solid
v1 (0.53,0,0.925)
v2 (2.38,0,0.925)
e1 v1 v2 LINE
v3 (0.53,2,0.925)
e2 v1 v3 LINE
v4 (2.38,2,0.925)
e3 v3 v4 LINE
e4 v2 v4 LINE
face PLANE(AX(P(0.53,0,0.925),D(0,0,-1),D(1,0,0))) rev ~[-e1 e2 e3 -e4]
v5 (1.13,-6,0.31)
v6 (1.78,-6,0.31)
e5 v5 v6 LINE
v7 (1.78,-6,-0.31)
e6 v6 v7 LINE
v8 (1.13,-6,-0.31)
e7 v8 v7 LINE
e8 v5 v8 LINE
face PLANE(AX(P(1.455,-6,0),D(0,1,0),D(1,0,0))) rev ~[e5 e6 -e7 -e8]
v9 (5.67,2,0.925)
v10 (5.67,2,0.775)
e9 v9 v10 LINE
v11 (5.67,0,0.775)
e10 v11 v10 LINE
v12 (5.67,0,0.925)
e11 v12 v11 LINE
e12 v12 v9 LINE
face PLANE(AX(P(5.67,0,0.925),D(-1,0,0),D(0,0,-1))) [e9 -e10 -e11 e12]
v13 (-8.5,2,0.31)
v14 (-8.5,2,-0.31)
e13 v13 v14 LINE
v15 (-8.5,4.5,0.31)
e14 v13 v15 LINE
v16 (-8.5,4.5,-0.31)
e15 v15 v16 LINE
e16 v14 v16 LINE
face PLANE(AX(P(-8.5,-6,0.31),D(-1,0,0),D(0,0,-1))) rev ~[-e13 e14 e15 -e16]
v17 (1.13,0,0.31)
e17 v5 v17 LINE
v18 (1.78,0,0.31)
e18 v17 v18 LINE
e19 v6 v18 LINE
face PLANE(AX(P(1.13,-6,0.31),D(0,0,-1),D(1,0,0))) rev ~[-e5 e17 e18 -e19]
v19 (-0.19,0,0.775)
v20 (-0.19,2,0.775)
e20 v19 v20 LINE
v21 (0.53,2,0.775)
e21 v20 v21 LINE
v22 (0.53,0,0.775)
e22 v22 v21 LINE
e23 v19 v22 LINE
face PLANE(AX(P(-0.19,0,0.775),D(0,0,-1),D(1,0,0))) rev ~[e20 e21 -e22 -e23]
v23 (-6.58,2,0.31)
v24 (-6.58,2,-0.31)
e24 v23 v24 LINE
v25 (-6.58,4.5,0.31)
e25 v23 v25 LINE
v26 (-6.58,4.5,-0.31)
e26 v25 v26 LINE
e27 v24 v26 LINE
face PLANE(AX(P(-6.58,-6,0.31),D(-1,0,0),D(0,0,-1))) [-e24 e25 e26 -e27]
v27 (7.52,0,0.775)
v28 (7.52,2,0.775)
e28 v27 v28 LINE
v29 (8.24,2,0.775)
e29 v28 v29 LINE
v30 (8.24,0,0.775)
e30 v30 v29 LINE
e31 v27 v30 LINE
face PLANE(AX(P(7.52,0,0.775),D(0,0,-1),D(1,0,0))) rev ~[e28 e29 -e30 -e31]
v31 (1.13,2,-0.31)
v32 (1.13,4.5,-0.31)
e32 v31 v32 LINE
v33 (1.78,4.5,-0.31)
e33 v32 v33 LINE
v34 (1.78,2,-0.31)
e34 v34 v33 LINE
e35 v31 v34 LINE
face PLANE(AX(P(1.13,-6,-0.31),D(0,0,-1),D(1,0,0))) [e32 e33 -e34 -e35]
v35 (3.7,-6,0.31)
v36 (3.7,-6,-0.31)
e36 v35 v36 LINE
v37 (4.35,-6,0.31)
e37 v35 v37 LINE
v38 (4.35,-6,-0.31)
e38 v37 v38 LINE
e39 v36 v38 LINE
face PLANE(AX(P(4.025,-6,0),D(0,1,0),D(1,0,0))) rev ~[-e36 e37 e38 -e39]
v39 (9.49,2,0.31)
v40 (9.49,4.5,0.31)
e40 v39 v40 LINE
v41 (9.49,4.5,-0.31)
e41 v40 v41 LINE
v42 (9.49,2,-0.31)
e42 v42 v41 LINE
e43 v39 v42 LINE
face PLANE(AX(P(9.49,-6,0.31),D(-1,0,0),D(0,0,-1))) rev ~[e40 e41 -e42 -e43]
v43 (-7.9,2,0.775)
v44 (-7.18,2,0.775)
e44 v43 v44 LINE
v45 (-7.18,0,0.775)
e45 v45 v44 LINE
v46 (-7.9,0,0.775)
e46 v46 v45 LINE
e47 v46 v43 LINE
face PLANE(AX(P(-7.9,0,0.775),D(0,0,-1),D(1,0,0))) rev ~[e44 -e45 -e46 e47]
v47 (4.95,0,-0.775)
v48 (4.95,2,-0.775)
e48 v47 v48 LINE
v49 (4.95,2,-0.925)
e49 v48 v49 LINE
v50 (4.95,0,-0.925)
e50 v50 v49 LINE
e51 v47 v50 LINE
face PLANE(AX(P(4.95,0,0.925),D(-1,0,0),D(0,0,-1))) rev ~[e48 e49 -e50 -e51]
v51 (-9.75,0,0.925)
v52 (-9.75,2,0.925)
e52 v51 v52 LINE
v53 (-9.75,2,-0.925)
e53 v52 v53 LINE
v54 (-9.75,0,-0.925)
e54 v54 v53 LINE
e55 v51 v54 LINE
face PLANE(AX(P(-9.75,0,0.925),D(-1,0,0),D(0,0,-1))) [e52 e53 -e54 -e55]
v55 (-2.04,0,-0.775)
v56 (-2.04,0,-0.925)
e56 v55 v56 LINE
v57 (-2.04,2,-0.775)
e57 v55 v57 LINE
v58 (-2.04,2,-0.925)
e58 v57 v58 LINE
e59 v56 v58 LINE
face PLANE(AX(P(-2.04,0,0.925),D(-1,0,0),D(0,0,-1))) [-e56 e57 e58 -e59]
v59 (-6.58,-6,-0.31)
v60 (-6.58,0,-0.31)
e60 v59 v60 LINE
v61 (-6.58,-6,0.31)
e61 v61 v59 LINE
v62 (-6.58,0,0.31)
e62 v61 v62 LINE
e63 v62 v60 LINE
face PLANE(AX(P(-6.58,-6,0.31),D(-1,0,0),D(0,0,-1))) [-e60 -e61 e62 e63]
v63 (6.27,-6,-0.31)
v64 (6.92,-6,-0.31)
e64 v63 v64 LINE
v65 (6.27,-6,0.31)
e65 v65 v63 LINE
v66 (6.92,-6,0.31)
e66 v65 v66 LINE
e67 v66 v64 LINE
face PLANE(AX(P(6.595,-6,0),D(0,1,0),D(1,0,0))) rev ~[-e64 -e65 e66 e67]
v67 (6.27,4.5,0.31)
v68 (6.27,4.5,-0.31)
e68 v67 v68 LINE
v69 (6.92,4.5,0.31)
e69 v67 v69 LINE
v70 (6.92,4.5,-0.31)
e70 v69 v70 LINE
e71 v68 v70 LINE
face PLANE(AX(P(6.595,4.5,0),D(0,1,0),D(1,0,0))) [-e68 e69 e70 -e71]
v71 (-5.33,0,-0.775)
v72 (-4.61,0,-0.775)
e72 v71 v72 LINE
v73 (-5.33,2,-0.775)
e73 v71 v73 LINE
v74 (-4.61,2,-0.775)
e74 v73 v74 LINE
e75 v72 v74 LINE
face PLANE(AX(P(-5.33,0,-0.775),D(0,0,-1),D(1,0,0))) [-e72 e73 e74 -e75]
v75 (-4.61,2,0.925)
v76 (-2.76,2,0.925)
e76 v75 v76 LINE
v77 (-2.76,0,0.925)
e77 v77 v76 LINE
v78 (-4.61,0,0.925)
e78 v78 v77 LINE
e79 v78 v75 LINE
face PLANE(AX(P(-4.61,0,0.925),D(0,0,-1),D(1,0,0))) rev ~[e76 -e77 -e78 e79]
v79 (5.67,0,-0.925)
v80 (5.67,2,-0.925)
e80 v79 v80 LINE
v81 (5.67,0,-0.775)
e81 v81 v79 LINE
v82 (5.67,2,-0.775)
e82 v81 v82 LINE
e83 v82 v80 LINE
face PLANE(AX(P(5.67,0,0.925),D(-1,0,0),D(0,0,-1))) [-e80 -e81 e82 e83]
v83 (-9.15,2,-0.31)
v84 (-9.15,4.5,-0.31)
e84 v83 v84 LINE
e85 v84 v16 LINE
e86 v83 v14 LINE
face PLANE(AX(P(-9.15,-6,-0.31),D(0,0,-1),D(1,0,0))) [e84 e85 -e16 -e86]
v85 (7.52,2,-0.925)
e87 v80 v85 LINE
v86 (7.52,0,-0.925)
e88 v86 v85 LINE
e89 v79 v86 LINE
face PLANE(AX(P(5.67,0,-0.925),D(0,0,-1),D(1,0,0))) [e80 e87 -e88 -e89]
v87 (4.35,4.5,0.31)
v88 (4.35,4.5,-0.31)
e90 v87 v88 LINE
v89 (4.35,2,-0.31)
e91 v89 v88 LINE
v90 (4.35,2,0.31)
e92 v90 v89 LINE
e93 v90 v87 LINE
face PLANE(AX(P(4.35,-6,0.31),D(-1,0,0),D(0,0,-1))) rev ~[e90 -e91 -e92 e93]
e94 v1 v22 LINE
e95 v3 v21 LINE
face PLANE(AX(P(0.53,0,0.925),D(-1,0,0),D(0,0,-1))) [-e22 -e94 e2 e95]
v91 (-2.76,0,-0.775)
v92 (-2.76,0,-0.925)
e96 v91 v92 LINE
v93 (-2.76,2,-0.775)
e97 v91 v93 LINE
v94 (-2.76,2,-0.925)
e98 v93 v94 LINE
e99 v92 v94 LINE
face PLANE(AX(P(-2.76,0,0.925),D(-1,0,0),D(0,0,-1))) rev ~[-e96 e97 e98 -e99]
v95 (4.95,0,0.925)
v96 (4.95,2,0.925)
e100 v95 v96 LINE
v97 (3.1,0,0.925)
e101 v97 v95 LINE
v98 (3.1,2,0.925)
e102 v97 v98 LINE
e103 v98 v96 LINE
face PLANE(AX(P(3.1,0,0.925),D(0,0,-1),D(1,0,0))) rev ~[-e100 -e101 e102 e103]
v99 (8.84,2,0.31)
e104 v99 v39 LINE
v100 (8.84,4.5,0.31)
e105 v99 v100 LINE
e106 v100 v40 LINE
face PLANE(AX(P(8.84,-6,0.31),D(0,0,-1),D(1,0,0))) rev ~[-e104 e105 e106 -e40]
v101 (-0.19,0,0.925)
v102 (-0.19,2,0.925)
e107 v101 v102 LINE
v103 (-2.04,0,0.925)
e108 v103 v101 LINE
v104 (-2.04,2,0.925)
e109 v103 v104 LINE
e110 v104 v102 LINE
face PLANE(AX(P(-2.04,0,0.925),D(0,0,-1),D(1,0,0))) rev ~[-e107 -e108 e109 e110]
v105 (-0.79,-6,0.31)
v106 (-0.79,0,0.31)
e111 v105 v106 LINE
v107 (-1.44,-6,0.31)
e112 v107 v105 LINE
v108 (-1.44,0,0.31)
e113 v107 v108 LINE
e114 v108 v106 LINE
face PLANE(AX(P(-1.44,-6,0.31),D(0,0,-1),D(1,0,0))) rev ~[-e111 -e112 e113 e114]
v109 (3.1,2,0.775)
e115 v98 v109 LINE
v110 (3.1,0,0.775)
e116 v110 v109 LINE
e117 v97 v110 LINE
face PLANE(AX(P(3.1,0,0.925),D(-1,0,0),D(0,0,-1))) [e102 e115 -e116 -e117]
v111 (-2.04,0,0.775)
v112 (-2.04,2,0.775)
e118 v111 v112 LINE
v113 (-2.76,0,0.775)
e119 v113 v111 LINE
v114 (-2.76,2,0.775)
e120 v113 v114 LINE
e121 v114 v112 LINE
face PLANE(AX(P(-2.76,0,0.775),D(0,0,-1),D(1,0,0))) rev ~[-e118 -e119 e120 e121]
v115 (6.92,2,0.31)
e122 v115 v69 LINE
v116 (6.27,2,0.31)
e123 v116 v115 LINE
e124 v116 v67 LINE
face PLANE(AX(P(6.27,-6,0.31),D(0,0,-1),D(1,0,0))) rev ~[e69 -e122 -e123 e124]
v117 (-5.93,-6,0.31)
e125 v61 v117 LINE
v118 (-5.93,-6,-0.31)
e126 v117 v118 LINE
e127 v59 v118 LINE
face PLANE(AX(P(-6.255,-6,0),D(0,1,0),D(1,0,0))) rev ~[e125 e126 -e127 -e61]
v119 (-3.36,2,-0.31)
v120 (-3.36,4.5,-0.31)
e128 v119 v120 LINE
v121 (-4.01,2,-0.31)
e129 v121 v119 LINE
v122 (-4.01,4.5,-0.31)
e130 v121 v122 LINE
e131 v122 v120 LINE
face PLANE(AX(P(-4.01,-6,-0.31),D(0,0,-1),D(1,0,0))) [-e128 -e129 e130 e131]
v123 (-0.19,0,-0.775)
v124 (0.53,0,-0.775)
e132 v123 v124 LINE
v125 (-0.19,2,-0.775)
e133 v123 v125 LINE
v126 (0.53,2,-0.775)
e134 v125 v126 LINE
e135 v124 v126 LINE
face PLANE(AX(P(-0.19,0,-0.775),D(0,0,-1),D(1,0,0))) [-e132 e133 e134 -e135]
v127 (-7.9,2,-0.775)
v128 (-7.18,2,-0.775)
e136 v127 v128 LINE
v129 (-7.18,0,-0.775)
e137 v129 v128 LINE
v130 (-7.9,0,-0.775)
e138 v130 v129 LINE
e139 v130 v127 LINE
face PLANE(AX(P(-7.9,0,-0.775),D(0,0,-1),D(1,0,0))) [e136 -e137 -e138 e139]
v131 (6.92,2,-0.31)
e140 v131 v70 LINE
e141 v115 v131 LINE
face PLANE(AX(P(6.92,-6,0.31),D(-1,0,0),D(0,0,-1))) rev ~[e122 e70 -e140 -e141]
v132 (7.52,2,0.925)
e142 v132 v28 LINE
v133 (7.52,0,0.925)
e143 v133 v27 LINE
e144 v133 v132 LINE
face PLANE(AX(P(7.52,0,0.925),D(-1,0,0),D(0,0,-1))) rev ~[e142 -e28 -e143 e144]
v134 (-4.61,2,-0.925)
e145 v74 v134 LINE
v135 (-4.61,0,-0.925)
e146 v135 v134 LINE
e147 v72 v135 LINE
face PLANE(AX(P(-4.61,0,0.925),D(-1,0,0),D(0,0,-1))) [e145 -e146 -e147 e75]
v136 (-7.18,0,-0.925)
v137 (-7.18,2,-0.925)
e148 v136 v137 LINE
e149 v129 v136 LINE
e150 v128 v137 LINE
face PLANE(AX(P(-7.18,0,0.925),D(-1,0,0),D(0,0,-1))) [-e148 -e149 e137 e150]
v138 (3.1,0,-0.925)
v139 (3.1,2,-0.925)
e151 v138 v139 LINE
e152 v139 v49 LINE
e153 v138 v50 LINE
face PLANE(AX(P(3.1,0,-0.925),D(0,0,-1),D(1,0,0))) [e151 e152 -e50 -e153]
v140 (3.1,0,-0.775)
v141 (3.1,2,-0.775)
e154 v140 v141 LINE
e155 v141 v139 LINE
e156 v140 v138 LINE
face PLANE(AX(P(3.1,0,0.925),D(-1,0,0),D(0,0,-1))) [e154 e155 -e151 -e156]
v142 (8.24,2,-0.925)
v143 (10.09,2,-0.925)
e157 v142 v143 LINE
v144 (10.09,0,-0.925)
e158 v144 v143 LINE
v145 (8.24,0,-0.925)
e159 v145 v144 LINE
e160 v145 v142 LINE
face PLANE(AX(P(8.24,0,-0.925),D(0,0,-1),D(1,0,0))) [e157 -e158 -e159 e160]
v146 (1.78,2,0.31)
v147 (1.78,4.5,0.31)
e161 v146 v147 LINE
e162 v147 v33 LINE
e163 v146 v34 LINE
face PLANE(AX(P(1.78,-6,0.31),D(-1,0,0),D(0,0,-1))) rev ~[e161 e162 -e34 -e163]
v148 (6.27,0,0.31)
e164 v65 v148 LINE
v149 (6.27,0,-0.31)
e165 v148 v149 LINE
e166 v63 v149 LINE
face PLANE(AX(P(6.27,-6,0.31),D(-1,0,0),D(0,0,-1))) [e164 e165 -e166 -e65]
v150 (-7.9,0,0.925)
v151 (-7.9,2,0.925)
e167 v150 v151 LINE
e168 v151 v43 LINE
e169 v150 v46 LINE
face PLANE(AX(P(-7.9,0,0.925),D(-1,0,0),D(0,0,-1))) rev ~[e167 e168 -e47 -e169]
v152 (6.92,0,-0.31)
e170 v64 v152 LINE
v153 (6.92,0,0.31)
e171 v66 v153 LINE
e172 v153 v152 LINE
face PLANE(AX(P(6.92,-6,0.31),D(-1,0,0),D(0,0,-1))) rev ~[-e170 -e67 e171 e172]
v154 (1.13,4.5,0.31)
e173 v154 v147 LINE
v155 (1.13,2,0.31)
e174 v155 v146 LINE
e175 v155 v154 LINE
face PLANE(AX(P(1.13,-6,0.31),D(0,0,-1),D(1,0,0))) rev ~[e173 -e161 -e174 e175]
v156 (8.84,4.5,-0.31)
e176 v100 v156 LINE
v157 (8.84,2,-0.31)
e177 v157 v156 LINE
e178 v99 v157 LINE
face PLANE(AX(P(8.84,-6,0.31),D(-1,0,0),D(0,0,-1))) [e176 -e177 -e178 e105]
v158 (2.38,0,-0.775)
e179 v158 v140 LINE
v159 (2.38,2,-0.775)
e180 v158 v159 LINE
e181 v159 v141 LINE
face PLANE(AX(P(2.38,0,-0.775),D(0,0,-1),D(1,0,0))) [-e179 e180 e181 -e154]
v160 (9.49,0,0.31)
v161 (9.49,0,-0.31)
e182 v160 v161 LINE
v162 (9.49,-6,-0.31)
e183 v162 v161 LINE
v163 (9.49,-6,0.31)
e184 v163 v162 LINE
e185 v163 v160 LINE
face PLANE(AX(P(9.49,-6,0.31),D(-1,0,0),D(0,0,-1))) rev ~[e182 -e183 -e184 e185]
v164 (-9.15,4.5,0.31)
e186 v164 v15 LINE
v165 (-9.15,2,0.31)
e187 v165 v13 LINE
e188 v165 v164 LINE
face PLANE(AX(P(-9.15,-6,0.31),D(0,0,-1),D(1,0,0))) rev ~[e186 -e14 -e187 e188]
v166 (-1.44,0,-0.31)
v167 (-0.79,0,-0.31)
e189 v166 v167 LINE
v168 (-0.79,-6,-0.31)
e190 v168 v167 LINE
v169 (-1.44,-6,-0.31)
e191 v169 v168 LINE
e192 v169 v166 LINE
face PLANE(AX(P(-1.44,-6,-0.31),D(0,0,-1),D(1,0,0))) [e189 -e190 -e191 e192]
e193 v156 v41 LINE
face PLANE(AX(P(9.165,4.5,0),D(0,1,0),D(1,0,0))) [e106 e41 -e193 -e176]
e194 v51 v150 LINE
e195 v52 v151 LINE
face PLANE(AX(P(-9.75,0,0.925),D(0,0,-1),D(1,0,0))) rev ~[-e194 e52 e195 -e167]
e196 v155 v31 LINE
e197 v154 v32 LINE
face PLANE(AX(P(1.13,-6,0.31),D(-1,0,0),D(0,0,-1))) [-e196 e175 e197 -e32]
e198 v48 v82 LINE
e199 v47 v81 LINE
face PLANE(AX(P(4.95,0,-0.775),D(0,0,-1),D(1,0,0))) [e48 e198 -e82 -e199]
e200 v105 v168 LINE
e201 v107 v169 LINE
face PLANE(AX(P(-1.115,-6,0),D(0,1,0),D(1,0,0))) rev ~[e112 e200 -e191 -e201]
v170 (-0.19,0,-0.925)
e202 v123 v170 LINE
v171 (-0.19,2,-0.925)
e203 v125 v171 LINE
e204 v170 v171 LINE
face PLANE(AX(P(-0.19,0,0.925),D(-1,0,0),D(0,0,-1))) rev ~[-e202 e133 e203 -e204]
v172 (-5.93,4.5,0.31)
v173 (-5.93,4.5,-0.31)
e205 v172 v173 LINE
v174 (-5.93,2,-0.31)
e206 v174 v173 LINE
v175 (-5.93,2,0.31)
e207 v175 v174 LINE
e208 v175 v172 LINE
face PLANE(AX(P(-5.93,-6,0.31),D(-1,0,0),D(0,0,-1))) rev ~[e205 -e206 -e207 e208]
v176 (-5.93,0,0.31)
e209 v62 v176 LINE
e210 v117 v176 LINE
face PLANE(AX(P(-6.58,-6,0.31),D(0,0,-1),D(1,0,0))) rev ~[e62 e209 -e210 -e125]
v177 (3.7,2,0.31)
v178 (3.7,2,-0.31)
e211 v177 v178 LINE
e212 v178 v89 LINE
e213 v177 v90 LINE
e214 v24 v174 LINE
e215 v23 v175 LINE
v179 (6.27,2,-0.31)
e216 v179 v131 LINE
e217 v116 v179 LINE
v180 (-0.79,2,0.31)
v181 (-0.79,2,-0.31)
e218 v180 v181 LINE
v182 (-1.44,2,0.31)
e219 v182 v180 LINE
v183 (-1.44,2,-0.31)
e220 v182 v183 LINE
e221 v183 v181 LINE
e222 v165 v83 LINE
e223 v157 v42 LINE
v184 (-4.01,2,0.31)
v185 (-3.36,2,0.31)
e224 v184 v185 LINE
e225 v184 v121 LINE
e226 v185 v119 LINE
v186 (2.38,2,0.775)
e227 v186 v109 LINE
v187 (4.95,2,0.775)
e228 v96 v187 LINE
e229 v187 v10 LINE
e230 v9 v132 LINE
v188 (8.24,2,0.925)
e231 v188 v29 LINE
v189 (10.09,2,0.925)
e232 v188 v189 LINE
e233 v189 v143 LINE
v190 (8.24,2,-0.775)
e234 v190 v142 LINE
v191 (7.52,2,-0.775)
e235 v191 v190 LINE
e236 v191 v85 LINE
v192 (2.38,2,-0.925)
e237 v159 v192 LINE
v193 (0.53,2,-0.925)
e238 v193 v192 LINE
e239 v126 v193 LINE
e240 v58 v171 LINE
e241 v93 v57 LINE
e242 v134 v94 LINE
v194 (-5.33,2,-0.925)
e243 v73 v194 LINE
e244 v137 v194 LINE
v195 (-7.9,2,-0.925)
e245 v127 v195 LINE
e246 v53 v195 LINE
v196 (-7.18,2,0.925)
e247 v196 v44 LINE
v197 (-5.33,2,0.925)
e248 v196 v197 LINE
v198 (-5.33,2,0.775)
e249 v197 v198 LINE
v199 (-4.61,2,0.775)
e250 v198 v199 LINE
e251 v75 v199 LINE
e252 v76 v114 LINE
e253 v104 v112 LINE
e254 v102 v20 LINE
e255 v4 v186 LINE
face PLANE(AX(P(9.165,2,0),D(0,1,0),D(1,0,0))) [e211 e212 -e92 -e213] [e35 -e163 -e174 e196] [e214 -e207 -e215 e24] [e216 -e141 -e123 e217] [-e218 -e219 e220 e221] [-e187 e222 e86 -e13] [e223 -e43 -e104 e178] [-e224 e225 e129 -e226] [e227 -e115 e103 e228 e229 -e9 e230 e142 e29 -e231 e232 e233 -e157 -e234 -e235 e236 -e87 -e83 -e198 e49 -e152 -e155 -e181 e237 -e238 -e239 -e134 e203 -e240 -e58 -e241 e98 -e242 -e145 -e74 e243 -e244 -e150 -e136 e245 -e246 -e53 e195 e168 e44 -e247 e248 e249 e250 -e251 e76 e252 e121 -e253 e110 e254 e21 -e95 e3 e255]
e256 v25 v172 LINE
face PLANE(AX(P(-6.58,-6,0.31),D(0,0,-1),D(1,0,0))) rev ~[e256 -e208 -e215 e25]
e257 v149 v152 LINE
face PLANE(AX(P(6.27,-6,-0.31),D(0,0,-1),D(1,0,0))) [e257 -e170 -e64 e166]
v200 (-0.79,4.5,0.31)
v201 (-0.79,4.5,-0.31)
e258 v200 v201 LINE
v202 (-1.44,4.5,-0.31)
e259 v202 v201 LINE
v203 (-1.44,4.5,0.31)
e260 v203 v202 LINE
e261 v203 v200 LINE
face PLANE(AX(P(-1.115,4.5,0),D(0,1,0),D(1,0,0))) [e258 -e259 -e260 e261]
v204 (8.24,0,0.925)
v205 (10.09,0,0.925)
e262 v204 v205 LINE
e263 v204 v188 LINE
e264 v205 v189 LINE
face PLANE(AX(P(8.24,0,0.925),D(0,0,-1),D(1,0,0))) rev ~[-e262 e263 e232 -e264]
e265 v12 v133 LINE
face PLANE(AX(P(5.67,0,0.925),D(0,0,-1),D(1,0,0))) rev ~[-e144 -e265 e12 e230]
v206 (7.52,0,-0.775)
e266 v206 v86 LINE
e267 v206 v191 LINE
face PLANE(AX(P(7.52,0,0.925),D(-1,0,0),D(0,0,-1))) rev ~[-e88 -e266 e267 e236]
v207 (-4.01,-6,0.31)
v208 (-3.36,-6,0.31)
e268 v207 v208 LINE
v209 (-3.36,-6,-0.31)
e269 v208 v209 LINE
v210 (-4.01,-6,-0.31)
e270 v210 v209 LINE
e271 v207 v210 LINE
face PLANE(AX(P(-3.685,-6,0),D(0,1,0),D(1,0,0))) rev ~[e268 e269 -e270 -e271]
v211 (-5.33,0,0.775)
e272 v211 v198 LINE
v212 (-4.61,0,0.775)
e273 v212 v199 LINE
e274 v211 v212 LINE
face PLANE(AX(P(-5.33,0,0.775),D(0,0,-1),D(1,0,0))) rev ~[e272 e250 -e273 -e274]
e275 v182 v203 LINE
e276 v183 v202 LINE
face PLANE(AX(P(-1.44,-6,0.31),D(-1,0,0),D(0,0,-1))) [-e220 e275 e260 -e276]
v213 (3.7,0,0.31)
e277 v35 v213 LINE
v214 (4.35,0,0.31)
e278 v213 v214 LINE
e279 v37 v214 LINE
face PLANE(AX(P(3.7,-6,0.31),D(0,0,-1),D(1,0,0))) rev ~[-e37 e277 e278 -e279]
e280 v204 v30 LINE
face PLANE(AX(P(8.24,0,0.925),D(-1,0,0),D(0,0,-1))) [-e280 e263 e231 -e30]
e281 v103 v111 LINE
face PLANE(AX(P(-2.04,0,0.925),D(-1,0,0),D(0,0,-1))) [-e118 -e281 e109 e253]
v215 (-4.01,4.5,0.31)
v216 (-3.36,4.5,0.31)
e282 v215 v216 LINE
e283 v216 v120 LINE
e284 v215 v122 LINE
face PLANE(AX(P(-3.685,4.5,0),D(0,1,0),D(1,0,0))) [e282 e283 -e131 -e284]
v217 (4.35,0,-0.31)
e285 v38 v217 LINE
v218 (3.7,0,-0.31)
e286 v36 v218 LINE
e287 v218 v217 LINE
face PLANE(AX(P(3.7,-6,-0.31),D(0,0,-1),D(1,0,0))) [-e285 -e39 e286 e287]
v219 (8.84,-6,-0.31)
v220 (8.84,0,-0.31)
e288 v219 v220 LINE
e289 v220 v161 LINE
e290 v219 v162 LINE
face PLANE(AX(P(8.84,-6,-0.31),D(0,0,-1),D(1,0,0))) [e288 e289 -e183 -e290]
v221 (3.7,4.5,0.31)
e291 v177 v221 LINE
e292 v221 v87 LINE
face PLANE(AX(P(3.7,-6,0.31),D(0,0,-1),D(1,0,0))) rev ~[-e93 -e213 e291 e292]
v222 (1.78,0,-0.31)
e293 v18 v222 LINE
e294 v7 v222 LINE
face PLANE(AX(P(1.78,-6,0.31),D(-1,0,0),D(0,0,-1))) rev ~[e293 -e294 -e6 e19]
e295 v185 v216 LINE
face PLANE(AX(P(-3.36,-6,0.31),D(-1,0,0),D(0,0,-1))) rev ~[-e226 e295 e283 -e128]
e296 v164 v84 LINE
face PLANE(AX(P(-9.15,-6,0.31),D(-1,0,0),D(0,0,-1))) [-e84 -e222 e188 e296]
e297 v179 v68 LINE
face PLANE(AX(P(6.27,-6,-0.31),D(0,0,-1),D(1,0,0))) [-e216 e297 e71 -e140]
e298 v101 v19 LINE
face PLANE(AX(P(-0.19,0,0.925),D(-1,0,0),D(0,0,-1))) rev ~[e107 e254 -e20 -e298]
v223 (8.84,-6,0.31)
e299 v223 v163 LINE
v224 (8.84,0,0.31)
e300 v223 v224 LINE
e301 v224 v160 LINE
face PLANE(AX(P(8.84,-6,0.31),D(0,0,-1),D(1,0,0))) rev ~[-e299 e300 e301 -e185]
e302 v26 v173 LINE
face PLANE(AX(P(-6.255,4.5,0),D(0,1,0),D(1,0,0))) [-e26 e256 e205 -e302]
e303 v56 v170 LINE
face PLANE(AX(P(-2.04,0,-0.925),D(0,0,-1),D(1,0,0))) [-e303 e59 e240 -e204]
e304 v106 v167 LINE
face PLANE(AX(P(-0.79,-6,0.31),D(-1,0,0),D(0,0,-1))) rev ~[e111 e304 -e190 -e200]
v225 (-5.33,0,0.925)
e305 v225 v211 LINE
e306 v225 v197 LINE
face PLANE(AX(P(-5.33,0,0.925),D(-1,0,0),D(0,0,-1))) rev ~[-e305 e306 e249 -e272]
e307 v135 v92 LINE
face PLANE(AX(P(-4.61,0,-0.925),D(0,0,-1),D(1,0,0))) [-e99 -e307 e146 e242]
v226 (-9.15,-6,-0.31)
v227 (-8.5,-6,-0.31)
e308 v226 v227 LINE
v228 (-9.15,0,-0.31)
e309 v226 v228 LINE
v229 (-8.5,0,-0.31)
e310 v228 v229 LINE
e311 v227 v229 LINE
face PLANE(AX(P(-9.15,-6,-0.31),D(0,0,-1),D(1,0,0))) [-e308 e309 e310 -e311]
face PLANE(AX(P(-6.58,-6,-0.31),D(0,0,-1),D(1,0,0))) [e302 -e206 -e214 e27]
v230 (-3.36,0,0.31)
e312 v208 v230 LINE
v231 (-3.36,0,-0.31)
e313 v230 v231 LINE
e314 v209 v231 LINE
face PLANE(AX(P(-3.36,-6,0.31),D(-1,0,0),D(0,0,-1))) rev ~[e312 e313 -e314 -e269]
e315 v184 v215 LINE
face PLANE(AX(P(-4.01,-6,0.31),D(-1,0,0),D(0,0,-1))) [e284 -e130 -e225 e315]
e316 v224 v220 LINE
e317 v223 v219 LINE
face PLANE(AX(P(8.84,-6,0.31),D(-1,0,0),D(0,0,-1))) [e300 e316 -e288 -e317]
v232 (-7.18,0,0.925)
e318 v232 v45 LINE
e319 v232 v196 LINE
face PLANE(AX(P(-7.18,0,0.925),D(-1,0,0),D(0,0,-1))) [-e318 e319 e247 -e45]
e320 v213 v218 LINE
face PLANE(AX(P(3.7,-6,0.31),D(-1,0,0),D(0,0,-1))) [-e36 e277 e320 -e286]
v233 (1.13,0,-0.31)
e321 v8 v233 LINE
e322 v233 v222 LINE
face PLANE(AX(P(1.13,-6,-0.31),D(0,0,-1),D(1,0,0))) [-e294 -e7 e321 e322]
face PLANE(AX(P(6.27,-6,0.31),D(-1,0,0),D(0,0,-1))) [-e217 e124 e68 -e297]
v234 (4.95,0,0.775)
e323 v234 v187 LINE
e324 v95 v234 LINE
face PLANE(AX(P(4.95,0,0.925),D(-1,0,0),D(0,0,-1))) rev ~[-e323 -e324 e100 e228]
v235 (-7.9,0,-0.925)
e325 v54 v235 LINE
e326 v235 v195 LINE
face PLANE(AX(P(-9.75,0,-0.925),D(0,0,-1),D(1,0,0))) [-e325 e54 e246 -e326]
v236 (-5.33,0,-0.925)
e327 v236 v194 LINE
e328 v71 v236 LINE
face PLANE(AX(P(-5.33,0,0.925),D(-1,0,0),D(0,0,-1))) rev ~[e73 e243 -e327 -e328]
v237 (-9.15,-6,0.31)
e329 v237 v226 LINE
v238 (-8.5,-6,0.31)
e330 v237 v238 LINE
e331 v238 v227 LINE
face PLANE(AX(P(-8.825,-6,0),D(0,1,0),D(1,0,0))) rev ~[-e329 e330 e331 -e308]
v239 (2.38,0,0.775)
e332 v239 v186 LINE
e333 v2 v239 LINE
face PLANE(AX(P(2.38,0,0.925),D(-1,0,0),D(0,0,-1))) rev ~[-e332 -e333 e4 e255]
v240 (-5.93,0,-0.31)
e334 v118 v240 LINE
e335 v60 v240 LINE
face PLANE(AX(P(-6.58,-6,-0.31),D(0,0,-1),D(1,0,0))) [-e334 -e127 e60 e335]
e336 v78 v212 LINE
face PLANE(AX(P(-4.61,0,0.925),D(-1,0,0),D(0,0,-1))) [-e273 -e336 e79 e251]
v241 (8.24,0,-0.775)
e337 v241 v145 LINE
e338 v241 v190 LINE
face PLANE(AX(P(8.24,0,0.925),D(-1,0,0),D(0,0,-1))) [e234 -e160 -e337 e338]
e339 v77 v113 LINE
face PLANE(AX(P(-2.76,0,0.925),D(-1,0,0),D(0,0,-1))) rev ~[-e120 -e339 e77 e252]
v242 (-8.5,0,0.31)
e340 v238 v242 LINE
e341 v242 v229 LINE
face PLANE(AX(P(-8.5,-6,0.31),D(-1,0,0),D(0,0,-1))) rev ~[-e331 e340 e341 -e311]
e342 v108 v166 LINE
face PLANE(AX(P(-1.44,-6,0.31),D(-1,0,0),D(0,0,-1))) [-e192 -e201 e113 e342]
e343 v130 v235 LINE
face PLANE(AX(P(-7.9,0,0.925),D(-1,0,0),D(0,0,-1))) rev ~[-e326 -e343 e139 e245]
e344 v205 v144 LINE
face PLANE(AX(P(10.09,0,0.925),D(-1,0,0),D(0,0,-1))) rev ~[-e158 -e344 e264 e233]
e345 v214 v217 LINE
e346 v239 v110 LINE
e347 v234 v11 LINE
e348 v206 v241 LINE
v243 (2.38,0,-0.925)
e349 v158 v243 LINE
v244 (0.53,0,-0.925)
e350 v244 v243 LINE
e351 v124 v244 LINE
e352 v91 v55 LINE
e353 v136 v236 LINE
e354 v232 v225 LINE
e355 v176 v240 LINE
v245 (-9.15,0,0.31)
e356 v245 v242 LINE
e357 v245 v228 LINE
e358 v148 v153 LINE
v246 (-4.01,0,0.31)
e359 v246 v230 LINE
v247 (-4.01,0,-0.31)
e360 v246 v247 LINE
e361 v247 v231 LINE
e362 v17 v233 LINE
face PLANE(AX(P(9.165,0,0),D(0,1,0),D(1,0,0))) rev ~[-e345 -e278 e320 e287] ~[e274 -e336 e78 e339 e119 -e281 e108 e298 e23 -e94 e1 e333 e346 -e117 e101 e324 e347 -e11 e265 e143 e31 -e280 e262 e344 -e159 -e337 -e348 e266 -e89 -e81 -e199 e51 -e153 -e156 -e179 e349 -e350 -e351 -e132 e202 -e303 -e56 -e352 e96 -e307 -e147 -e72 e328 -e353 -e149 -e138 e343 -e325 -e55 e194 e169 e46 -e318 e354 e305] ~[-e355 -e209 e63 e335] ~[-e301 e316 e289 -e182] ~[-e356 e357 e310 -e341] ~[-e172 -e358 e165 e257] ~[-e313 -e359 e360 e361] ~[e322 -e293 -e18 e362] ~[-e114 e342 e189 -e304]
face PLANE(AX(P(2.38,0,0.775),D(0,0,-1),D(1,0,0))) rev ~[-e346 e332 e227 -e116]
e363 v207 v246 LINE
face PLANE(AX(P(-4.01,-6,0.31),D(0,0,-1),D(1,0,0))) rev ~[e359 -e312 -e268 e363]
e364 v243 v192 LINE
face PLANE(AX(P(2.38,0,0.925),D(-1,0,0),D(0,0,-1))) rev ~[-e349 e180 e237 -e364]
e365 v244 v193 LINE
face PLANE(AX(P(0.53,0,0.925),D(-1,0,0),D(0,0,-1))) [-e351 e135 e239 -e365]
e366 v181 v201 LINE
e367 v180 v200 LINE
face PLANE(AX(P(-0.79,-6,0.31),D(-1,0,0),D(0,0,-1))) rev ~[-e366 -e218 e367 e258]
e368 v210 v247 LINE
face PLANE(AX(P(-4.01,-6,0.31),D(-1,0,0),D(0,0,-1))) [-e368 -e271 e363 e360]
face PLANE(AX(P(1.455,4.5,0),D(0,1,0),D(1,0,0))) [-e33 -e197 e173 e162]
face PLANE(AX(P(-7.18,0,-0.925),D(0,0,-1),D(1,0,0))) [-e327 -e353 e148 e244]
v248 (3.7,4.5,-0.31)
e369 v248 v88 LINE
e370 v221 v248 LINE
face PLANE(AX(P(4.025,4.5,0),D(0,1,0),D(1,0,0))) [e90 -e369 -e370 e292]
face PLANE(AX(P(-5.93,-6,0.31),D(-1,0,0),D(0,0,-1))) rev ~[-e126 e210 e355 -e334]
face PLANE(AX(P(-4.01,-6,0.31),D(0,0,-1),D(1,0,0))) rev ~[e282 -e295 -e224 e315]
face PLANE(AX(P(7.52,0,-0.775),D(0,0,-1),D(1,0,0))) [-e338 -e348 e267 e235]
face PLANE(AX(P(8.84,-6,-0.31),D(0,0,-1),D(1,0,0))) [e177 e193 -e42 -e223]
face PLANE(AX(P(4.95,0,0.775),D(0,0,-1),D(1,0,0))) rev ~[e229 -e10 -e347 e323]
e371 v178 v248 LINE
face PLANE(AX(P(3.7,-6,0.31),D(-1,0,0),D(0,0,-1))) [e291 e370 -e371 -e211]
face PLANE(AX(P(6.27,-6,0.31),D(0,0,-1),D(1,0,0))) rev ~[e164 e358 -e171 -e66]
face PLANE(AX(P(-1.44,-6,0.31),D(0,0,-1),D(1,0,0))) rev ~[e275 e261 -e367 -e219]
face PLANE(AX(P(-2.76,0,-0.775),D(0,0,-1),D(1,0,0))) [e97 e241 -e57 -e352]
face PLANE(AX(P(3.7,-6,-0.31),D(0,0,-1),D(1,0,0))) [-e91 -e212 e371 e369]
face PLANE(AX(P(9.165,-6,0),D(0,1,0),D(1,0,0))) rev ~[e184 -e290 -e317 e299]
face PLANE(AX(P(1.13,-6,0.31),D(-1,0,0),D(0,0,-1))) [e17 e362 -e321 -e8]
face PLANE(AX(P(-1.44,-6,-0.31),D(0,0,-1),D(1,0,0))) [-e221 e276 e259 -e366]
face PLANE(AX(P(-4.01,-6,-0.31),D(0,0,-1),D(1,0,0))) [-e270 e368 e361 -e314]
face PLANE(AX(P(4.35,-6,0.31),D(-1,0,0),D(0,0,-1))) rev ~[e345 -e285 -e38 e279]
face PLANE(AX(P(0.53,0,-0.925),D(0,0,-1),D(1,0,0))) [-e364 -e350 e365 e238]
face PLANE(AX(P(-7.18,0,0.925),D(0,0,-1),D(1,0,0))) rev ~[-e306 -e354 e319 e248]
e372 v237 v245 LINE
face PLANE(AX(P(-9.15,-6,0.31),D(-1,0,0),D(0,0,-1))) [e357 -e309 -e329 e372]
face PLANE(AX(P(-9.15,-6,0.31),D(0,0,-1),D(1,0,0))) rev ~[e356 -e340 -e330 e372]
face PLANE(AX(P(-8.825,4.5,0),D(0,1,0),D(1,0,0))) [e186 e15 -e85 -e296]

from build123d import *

# Parameters (mm, degrees)
SKETCH1_W                = 0.65
SKETCH1_H                = 0.62
BOSS_EXTRUDE1_DEPTH      = 2
BOSS_EXTRUDE2_DEPTH      = 4.5
BOSS_EXTRUDE2_DEPTH_BACK = 6
SKETCH1_3_W              = 0.65
SKETCH1_3_H              = 0.62


with BuildPart() as part:
    # Sketch1 → Boss-Extrude1 (new body)
    with BuildSketch(Plane(origin=(0, 0, 0), x_dir=(1, 0, 0), z_dir=(0, 1, 0))):
        Polygon((-7.9, 0.925), (-9.75, 0.925), (-9.75, -0.925), (-7.9, -0.925), (-7.9, -0.775), (-7.18, -0.775), (-7.18, -0.925), (-5.33, -0.925), (-5.33, -0.775), (-4.61, -0.775), (-4.61, -0.925), (-2.76, -0.925), (-2.76, -0.775), (-2.04, -0.775), (-2.04, -0.925), (-0.19, -0.925), (-0.19, -0.775), (0.53, -0.775), (0.53, -0.925), (2.38, -0.925), (2.38, -0.775), (3.1, -0.775), (3.1, -0.925), (4.95, -0.925), (4.95, -0.775), (5.67, -0.775), (5.67, -0.925), (7.52, -0.925), (7.52, -0.775), (8.24, -0.775), (8.24, -0.925), (10.09, -0.925), (10.09, 0.925), (8.24, 0.925), (8.24, 0.775), (7.52, 0.775), (7.52, 0.925), (5.67, 0.925), (5.67, 0.775), (4.95, 0.775), (4.95, 0.925), (3.1, 0.925), (3.1, 0.775), (2.38, 0.775), (2.38, 0.925), (0.53, 0.925), (0.53, 0.775), (-0.19, 0.775), (-0.19, 0.925), (-2.04, 0.925), (-2.04, 0.775), (-2.76, 0.775), (-2.76, 0.925), (-4.61, 0.925), (-4.61, 0.775), (-5.33, 0.775), (-5.33, 0.925), (-7.18, 0.925), (-7.18, 0.775), (-7.9, 0.775), align=None)
        with Locations((-8.825, 0)):
            Rectangle(SKETCH1_W, SKETCH1_H, mode=Mode.SUBTRACT)
        with Locations((-6.255, 0)):
            Rectangle(SKETCH1_W, SKETCH1_H, mode=Mode.SUBTRACT)
        with Locations((-3.685, 0)):
            Rectangle(SKETCH1_W, SKETCH1_H, mode=Mode.SUBTRACT)
        with Locations((-1.115, 0)):
            Rectangle(SKETCH1_W, SKETCH1_H, mode=Mode.SUBTRACT)
        with Locations((1.455, 0)):
            Rectangle(SKETCH1_W, SKETCH1_H, mode=Mode.SUBTRACT)
        with Locations((4.025, 0)):
            Rectangle(SKETCH1_W, SKETCH1_H, mode=Mode.SUBTRACT)
        with Locations((6.595, 0)):
            Rectangle(SKETCH1_W, SKETCH1_H, mode=Mode.SUBTRACT)
        with Locations((9.165, 0)):
            Rectangle(SKETCH1_W, SKETCH1_H, mode=Mode.SUBTRACT)
    extrude(amount=BOSS_EXTRUDE1_DEPTH)

    # Sketch1<3> → Boss-Extrude2 (add, two sides: drawn at the far end of the back side and taken through both)
    with BuildSketch(Plane(origin=(0, 0, 0), x_dir=(1, 0, 0), z_dir=(0, 1, 0)).offset(-BOSS_EXTRUDE2_DEPTH_BACK)):
        with Locations((-6.255, 0)):
            Rectangle(SKETCH1_3_W, SKETCH1_3_H)
        with Locations((-8.825, 0)):
            Rectangle(SKETCH1_3_W, SKETCH1_3_H)
        with Locations((-3.685, 0)):
            Rectangle(SKETCH1_3_W, SKETCH1_3_H)
        with Locations((-1.115, 0)):
            Rectangle(SKETCH1_3_W, SKETCH1_3_H)
        with Locations((1.455, 0)):
            Rectangle(SKETCH1_3_W, SKETCH1_3_H)
        with Locations((4.025, 0)):
            Rectangle(SKETCH1_3_W, SKETCH1_3_H)
        with Locations((6.595, 0)):
            Rectangle(SKETCH1_3_W, SKETCH1_3_H)
        with Locations((9.165, 0)):
            Rectangle(SKETCH1_3_W, SKETCH1_3_H)
    extrude(amount=BOSS_EXTRUDE2_DEPTH + BOSS_EXTRUDE2_DEPTH_BACK)


solid = part.part
